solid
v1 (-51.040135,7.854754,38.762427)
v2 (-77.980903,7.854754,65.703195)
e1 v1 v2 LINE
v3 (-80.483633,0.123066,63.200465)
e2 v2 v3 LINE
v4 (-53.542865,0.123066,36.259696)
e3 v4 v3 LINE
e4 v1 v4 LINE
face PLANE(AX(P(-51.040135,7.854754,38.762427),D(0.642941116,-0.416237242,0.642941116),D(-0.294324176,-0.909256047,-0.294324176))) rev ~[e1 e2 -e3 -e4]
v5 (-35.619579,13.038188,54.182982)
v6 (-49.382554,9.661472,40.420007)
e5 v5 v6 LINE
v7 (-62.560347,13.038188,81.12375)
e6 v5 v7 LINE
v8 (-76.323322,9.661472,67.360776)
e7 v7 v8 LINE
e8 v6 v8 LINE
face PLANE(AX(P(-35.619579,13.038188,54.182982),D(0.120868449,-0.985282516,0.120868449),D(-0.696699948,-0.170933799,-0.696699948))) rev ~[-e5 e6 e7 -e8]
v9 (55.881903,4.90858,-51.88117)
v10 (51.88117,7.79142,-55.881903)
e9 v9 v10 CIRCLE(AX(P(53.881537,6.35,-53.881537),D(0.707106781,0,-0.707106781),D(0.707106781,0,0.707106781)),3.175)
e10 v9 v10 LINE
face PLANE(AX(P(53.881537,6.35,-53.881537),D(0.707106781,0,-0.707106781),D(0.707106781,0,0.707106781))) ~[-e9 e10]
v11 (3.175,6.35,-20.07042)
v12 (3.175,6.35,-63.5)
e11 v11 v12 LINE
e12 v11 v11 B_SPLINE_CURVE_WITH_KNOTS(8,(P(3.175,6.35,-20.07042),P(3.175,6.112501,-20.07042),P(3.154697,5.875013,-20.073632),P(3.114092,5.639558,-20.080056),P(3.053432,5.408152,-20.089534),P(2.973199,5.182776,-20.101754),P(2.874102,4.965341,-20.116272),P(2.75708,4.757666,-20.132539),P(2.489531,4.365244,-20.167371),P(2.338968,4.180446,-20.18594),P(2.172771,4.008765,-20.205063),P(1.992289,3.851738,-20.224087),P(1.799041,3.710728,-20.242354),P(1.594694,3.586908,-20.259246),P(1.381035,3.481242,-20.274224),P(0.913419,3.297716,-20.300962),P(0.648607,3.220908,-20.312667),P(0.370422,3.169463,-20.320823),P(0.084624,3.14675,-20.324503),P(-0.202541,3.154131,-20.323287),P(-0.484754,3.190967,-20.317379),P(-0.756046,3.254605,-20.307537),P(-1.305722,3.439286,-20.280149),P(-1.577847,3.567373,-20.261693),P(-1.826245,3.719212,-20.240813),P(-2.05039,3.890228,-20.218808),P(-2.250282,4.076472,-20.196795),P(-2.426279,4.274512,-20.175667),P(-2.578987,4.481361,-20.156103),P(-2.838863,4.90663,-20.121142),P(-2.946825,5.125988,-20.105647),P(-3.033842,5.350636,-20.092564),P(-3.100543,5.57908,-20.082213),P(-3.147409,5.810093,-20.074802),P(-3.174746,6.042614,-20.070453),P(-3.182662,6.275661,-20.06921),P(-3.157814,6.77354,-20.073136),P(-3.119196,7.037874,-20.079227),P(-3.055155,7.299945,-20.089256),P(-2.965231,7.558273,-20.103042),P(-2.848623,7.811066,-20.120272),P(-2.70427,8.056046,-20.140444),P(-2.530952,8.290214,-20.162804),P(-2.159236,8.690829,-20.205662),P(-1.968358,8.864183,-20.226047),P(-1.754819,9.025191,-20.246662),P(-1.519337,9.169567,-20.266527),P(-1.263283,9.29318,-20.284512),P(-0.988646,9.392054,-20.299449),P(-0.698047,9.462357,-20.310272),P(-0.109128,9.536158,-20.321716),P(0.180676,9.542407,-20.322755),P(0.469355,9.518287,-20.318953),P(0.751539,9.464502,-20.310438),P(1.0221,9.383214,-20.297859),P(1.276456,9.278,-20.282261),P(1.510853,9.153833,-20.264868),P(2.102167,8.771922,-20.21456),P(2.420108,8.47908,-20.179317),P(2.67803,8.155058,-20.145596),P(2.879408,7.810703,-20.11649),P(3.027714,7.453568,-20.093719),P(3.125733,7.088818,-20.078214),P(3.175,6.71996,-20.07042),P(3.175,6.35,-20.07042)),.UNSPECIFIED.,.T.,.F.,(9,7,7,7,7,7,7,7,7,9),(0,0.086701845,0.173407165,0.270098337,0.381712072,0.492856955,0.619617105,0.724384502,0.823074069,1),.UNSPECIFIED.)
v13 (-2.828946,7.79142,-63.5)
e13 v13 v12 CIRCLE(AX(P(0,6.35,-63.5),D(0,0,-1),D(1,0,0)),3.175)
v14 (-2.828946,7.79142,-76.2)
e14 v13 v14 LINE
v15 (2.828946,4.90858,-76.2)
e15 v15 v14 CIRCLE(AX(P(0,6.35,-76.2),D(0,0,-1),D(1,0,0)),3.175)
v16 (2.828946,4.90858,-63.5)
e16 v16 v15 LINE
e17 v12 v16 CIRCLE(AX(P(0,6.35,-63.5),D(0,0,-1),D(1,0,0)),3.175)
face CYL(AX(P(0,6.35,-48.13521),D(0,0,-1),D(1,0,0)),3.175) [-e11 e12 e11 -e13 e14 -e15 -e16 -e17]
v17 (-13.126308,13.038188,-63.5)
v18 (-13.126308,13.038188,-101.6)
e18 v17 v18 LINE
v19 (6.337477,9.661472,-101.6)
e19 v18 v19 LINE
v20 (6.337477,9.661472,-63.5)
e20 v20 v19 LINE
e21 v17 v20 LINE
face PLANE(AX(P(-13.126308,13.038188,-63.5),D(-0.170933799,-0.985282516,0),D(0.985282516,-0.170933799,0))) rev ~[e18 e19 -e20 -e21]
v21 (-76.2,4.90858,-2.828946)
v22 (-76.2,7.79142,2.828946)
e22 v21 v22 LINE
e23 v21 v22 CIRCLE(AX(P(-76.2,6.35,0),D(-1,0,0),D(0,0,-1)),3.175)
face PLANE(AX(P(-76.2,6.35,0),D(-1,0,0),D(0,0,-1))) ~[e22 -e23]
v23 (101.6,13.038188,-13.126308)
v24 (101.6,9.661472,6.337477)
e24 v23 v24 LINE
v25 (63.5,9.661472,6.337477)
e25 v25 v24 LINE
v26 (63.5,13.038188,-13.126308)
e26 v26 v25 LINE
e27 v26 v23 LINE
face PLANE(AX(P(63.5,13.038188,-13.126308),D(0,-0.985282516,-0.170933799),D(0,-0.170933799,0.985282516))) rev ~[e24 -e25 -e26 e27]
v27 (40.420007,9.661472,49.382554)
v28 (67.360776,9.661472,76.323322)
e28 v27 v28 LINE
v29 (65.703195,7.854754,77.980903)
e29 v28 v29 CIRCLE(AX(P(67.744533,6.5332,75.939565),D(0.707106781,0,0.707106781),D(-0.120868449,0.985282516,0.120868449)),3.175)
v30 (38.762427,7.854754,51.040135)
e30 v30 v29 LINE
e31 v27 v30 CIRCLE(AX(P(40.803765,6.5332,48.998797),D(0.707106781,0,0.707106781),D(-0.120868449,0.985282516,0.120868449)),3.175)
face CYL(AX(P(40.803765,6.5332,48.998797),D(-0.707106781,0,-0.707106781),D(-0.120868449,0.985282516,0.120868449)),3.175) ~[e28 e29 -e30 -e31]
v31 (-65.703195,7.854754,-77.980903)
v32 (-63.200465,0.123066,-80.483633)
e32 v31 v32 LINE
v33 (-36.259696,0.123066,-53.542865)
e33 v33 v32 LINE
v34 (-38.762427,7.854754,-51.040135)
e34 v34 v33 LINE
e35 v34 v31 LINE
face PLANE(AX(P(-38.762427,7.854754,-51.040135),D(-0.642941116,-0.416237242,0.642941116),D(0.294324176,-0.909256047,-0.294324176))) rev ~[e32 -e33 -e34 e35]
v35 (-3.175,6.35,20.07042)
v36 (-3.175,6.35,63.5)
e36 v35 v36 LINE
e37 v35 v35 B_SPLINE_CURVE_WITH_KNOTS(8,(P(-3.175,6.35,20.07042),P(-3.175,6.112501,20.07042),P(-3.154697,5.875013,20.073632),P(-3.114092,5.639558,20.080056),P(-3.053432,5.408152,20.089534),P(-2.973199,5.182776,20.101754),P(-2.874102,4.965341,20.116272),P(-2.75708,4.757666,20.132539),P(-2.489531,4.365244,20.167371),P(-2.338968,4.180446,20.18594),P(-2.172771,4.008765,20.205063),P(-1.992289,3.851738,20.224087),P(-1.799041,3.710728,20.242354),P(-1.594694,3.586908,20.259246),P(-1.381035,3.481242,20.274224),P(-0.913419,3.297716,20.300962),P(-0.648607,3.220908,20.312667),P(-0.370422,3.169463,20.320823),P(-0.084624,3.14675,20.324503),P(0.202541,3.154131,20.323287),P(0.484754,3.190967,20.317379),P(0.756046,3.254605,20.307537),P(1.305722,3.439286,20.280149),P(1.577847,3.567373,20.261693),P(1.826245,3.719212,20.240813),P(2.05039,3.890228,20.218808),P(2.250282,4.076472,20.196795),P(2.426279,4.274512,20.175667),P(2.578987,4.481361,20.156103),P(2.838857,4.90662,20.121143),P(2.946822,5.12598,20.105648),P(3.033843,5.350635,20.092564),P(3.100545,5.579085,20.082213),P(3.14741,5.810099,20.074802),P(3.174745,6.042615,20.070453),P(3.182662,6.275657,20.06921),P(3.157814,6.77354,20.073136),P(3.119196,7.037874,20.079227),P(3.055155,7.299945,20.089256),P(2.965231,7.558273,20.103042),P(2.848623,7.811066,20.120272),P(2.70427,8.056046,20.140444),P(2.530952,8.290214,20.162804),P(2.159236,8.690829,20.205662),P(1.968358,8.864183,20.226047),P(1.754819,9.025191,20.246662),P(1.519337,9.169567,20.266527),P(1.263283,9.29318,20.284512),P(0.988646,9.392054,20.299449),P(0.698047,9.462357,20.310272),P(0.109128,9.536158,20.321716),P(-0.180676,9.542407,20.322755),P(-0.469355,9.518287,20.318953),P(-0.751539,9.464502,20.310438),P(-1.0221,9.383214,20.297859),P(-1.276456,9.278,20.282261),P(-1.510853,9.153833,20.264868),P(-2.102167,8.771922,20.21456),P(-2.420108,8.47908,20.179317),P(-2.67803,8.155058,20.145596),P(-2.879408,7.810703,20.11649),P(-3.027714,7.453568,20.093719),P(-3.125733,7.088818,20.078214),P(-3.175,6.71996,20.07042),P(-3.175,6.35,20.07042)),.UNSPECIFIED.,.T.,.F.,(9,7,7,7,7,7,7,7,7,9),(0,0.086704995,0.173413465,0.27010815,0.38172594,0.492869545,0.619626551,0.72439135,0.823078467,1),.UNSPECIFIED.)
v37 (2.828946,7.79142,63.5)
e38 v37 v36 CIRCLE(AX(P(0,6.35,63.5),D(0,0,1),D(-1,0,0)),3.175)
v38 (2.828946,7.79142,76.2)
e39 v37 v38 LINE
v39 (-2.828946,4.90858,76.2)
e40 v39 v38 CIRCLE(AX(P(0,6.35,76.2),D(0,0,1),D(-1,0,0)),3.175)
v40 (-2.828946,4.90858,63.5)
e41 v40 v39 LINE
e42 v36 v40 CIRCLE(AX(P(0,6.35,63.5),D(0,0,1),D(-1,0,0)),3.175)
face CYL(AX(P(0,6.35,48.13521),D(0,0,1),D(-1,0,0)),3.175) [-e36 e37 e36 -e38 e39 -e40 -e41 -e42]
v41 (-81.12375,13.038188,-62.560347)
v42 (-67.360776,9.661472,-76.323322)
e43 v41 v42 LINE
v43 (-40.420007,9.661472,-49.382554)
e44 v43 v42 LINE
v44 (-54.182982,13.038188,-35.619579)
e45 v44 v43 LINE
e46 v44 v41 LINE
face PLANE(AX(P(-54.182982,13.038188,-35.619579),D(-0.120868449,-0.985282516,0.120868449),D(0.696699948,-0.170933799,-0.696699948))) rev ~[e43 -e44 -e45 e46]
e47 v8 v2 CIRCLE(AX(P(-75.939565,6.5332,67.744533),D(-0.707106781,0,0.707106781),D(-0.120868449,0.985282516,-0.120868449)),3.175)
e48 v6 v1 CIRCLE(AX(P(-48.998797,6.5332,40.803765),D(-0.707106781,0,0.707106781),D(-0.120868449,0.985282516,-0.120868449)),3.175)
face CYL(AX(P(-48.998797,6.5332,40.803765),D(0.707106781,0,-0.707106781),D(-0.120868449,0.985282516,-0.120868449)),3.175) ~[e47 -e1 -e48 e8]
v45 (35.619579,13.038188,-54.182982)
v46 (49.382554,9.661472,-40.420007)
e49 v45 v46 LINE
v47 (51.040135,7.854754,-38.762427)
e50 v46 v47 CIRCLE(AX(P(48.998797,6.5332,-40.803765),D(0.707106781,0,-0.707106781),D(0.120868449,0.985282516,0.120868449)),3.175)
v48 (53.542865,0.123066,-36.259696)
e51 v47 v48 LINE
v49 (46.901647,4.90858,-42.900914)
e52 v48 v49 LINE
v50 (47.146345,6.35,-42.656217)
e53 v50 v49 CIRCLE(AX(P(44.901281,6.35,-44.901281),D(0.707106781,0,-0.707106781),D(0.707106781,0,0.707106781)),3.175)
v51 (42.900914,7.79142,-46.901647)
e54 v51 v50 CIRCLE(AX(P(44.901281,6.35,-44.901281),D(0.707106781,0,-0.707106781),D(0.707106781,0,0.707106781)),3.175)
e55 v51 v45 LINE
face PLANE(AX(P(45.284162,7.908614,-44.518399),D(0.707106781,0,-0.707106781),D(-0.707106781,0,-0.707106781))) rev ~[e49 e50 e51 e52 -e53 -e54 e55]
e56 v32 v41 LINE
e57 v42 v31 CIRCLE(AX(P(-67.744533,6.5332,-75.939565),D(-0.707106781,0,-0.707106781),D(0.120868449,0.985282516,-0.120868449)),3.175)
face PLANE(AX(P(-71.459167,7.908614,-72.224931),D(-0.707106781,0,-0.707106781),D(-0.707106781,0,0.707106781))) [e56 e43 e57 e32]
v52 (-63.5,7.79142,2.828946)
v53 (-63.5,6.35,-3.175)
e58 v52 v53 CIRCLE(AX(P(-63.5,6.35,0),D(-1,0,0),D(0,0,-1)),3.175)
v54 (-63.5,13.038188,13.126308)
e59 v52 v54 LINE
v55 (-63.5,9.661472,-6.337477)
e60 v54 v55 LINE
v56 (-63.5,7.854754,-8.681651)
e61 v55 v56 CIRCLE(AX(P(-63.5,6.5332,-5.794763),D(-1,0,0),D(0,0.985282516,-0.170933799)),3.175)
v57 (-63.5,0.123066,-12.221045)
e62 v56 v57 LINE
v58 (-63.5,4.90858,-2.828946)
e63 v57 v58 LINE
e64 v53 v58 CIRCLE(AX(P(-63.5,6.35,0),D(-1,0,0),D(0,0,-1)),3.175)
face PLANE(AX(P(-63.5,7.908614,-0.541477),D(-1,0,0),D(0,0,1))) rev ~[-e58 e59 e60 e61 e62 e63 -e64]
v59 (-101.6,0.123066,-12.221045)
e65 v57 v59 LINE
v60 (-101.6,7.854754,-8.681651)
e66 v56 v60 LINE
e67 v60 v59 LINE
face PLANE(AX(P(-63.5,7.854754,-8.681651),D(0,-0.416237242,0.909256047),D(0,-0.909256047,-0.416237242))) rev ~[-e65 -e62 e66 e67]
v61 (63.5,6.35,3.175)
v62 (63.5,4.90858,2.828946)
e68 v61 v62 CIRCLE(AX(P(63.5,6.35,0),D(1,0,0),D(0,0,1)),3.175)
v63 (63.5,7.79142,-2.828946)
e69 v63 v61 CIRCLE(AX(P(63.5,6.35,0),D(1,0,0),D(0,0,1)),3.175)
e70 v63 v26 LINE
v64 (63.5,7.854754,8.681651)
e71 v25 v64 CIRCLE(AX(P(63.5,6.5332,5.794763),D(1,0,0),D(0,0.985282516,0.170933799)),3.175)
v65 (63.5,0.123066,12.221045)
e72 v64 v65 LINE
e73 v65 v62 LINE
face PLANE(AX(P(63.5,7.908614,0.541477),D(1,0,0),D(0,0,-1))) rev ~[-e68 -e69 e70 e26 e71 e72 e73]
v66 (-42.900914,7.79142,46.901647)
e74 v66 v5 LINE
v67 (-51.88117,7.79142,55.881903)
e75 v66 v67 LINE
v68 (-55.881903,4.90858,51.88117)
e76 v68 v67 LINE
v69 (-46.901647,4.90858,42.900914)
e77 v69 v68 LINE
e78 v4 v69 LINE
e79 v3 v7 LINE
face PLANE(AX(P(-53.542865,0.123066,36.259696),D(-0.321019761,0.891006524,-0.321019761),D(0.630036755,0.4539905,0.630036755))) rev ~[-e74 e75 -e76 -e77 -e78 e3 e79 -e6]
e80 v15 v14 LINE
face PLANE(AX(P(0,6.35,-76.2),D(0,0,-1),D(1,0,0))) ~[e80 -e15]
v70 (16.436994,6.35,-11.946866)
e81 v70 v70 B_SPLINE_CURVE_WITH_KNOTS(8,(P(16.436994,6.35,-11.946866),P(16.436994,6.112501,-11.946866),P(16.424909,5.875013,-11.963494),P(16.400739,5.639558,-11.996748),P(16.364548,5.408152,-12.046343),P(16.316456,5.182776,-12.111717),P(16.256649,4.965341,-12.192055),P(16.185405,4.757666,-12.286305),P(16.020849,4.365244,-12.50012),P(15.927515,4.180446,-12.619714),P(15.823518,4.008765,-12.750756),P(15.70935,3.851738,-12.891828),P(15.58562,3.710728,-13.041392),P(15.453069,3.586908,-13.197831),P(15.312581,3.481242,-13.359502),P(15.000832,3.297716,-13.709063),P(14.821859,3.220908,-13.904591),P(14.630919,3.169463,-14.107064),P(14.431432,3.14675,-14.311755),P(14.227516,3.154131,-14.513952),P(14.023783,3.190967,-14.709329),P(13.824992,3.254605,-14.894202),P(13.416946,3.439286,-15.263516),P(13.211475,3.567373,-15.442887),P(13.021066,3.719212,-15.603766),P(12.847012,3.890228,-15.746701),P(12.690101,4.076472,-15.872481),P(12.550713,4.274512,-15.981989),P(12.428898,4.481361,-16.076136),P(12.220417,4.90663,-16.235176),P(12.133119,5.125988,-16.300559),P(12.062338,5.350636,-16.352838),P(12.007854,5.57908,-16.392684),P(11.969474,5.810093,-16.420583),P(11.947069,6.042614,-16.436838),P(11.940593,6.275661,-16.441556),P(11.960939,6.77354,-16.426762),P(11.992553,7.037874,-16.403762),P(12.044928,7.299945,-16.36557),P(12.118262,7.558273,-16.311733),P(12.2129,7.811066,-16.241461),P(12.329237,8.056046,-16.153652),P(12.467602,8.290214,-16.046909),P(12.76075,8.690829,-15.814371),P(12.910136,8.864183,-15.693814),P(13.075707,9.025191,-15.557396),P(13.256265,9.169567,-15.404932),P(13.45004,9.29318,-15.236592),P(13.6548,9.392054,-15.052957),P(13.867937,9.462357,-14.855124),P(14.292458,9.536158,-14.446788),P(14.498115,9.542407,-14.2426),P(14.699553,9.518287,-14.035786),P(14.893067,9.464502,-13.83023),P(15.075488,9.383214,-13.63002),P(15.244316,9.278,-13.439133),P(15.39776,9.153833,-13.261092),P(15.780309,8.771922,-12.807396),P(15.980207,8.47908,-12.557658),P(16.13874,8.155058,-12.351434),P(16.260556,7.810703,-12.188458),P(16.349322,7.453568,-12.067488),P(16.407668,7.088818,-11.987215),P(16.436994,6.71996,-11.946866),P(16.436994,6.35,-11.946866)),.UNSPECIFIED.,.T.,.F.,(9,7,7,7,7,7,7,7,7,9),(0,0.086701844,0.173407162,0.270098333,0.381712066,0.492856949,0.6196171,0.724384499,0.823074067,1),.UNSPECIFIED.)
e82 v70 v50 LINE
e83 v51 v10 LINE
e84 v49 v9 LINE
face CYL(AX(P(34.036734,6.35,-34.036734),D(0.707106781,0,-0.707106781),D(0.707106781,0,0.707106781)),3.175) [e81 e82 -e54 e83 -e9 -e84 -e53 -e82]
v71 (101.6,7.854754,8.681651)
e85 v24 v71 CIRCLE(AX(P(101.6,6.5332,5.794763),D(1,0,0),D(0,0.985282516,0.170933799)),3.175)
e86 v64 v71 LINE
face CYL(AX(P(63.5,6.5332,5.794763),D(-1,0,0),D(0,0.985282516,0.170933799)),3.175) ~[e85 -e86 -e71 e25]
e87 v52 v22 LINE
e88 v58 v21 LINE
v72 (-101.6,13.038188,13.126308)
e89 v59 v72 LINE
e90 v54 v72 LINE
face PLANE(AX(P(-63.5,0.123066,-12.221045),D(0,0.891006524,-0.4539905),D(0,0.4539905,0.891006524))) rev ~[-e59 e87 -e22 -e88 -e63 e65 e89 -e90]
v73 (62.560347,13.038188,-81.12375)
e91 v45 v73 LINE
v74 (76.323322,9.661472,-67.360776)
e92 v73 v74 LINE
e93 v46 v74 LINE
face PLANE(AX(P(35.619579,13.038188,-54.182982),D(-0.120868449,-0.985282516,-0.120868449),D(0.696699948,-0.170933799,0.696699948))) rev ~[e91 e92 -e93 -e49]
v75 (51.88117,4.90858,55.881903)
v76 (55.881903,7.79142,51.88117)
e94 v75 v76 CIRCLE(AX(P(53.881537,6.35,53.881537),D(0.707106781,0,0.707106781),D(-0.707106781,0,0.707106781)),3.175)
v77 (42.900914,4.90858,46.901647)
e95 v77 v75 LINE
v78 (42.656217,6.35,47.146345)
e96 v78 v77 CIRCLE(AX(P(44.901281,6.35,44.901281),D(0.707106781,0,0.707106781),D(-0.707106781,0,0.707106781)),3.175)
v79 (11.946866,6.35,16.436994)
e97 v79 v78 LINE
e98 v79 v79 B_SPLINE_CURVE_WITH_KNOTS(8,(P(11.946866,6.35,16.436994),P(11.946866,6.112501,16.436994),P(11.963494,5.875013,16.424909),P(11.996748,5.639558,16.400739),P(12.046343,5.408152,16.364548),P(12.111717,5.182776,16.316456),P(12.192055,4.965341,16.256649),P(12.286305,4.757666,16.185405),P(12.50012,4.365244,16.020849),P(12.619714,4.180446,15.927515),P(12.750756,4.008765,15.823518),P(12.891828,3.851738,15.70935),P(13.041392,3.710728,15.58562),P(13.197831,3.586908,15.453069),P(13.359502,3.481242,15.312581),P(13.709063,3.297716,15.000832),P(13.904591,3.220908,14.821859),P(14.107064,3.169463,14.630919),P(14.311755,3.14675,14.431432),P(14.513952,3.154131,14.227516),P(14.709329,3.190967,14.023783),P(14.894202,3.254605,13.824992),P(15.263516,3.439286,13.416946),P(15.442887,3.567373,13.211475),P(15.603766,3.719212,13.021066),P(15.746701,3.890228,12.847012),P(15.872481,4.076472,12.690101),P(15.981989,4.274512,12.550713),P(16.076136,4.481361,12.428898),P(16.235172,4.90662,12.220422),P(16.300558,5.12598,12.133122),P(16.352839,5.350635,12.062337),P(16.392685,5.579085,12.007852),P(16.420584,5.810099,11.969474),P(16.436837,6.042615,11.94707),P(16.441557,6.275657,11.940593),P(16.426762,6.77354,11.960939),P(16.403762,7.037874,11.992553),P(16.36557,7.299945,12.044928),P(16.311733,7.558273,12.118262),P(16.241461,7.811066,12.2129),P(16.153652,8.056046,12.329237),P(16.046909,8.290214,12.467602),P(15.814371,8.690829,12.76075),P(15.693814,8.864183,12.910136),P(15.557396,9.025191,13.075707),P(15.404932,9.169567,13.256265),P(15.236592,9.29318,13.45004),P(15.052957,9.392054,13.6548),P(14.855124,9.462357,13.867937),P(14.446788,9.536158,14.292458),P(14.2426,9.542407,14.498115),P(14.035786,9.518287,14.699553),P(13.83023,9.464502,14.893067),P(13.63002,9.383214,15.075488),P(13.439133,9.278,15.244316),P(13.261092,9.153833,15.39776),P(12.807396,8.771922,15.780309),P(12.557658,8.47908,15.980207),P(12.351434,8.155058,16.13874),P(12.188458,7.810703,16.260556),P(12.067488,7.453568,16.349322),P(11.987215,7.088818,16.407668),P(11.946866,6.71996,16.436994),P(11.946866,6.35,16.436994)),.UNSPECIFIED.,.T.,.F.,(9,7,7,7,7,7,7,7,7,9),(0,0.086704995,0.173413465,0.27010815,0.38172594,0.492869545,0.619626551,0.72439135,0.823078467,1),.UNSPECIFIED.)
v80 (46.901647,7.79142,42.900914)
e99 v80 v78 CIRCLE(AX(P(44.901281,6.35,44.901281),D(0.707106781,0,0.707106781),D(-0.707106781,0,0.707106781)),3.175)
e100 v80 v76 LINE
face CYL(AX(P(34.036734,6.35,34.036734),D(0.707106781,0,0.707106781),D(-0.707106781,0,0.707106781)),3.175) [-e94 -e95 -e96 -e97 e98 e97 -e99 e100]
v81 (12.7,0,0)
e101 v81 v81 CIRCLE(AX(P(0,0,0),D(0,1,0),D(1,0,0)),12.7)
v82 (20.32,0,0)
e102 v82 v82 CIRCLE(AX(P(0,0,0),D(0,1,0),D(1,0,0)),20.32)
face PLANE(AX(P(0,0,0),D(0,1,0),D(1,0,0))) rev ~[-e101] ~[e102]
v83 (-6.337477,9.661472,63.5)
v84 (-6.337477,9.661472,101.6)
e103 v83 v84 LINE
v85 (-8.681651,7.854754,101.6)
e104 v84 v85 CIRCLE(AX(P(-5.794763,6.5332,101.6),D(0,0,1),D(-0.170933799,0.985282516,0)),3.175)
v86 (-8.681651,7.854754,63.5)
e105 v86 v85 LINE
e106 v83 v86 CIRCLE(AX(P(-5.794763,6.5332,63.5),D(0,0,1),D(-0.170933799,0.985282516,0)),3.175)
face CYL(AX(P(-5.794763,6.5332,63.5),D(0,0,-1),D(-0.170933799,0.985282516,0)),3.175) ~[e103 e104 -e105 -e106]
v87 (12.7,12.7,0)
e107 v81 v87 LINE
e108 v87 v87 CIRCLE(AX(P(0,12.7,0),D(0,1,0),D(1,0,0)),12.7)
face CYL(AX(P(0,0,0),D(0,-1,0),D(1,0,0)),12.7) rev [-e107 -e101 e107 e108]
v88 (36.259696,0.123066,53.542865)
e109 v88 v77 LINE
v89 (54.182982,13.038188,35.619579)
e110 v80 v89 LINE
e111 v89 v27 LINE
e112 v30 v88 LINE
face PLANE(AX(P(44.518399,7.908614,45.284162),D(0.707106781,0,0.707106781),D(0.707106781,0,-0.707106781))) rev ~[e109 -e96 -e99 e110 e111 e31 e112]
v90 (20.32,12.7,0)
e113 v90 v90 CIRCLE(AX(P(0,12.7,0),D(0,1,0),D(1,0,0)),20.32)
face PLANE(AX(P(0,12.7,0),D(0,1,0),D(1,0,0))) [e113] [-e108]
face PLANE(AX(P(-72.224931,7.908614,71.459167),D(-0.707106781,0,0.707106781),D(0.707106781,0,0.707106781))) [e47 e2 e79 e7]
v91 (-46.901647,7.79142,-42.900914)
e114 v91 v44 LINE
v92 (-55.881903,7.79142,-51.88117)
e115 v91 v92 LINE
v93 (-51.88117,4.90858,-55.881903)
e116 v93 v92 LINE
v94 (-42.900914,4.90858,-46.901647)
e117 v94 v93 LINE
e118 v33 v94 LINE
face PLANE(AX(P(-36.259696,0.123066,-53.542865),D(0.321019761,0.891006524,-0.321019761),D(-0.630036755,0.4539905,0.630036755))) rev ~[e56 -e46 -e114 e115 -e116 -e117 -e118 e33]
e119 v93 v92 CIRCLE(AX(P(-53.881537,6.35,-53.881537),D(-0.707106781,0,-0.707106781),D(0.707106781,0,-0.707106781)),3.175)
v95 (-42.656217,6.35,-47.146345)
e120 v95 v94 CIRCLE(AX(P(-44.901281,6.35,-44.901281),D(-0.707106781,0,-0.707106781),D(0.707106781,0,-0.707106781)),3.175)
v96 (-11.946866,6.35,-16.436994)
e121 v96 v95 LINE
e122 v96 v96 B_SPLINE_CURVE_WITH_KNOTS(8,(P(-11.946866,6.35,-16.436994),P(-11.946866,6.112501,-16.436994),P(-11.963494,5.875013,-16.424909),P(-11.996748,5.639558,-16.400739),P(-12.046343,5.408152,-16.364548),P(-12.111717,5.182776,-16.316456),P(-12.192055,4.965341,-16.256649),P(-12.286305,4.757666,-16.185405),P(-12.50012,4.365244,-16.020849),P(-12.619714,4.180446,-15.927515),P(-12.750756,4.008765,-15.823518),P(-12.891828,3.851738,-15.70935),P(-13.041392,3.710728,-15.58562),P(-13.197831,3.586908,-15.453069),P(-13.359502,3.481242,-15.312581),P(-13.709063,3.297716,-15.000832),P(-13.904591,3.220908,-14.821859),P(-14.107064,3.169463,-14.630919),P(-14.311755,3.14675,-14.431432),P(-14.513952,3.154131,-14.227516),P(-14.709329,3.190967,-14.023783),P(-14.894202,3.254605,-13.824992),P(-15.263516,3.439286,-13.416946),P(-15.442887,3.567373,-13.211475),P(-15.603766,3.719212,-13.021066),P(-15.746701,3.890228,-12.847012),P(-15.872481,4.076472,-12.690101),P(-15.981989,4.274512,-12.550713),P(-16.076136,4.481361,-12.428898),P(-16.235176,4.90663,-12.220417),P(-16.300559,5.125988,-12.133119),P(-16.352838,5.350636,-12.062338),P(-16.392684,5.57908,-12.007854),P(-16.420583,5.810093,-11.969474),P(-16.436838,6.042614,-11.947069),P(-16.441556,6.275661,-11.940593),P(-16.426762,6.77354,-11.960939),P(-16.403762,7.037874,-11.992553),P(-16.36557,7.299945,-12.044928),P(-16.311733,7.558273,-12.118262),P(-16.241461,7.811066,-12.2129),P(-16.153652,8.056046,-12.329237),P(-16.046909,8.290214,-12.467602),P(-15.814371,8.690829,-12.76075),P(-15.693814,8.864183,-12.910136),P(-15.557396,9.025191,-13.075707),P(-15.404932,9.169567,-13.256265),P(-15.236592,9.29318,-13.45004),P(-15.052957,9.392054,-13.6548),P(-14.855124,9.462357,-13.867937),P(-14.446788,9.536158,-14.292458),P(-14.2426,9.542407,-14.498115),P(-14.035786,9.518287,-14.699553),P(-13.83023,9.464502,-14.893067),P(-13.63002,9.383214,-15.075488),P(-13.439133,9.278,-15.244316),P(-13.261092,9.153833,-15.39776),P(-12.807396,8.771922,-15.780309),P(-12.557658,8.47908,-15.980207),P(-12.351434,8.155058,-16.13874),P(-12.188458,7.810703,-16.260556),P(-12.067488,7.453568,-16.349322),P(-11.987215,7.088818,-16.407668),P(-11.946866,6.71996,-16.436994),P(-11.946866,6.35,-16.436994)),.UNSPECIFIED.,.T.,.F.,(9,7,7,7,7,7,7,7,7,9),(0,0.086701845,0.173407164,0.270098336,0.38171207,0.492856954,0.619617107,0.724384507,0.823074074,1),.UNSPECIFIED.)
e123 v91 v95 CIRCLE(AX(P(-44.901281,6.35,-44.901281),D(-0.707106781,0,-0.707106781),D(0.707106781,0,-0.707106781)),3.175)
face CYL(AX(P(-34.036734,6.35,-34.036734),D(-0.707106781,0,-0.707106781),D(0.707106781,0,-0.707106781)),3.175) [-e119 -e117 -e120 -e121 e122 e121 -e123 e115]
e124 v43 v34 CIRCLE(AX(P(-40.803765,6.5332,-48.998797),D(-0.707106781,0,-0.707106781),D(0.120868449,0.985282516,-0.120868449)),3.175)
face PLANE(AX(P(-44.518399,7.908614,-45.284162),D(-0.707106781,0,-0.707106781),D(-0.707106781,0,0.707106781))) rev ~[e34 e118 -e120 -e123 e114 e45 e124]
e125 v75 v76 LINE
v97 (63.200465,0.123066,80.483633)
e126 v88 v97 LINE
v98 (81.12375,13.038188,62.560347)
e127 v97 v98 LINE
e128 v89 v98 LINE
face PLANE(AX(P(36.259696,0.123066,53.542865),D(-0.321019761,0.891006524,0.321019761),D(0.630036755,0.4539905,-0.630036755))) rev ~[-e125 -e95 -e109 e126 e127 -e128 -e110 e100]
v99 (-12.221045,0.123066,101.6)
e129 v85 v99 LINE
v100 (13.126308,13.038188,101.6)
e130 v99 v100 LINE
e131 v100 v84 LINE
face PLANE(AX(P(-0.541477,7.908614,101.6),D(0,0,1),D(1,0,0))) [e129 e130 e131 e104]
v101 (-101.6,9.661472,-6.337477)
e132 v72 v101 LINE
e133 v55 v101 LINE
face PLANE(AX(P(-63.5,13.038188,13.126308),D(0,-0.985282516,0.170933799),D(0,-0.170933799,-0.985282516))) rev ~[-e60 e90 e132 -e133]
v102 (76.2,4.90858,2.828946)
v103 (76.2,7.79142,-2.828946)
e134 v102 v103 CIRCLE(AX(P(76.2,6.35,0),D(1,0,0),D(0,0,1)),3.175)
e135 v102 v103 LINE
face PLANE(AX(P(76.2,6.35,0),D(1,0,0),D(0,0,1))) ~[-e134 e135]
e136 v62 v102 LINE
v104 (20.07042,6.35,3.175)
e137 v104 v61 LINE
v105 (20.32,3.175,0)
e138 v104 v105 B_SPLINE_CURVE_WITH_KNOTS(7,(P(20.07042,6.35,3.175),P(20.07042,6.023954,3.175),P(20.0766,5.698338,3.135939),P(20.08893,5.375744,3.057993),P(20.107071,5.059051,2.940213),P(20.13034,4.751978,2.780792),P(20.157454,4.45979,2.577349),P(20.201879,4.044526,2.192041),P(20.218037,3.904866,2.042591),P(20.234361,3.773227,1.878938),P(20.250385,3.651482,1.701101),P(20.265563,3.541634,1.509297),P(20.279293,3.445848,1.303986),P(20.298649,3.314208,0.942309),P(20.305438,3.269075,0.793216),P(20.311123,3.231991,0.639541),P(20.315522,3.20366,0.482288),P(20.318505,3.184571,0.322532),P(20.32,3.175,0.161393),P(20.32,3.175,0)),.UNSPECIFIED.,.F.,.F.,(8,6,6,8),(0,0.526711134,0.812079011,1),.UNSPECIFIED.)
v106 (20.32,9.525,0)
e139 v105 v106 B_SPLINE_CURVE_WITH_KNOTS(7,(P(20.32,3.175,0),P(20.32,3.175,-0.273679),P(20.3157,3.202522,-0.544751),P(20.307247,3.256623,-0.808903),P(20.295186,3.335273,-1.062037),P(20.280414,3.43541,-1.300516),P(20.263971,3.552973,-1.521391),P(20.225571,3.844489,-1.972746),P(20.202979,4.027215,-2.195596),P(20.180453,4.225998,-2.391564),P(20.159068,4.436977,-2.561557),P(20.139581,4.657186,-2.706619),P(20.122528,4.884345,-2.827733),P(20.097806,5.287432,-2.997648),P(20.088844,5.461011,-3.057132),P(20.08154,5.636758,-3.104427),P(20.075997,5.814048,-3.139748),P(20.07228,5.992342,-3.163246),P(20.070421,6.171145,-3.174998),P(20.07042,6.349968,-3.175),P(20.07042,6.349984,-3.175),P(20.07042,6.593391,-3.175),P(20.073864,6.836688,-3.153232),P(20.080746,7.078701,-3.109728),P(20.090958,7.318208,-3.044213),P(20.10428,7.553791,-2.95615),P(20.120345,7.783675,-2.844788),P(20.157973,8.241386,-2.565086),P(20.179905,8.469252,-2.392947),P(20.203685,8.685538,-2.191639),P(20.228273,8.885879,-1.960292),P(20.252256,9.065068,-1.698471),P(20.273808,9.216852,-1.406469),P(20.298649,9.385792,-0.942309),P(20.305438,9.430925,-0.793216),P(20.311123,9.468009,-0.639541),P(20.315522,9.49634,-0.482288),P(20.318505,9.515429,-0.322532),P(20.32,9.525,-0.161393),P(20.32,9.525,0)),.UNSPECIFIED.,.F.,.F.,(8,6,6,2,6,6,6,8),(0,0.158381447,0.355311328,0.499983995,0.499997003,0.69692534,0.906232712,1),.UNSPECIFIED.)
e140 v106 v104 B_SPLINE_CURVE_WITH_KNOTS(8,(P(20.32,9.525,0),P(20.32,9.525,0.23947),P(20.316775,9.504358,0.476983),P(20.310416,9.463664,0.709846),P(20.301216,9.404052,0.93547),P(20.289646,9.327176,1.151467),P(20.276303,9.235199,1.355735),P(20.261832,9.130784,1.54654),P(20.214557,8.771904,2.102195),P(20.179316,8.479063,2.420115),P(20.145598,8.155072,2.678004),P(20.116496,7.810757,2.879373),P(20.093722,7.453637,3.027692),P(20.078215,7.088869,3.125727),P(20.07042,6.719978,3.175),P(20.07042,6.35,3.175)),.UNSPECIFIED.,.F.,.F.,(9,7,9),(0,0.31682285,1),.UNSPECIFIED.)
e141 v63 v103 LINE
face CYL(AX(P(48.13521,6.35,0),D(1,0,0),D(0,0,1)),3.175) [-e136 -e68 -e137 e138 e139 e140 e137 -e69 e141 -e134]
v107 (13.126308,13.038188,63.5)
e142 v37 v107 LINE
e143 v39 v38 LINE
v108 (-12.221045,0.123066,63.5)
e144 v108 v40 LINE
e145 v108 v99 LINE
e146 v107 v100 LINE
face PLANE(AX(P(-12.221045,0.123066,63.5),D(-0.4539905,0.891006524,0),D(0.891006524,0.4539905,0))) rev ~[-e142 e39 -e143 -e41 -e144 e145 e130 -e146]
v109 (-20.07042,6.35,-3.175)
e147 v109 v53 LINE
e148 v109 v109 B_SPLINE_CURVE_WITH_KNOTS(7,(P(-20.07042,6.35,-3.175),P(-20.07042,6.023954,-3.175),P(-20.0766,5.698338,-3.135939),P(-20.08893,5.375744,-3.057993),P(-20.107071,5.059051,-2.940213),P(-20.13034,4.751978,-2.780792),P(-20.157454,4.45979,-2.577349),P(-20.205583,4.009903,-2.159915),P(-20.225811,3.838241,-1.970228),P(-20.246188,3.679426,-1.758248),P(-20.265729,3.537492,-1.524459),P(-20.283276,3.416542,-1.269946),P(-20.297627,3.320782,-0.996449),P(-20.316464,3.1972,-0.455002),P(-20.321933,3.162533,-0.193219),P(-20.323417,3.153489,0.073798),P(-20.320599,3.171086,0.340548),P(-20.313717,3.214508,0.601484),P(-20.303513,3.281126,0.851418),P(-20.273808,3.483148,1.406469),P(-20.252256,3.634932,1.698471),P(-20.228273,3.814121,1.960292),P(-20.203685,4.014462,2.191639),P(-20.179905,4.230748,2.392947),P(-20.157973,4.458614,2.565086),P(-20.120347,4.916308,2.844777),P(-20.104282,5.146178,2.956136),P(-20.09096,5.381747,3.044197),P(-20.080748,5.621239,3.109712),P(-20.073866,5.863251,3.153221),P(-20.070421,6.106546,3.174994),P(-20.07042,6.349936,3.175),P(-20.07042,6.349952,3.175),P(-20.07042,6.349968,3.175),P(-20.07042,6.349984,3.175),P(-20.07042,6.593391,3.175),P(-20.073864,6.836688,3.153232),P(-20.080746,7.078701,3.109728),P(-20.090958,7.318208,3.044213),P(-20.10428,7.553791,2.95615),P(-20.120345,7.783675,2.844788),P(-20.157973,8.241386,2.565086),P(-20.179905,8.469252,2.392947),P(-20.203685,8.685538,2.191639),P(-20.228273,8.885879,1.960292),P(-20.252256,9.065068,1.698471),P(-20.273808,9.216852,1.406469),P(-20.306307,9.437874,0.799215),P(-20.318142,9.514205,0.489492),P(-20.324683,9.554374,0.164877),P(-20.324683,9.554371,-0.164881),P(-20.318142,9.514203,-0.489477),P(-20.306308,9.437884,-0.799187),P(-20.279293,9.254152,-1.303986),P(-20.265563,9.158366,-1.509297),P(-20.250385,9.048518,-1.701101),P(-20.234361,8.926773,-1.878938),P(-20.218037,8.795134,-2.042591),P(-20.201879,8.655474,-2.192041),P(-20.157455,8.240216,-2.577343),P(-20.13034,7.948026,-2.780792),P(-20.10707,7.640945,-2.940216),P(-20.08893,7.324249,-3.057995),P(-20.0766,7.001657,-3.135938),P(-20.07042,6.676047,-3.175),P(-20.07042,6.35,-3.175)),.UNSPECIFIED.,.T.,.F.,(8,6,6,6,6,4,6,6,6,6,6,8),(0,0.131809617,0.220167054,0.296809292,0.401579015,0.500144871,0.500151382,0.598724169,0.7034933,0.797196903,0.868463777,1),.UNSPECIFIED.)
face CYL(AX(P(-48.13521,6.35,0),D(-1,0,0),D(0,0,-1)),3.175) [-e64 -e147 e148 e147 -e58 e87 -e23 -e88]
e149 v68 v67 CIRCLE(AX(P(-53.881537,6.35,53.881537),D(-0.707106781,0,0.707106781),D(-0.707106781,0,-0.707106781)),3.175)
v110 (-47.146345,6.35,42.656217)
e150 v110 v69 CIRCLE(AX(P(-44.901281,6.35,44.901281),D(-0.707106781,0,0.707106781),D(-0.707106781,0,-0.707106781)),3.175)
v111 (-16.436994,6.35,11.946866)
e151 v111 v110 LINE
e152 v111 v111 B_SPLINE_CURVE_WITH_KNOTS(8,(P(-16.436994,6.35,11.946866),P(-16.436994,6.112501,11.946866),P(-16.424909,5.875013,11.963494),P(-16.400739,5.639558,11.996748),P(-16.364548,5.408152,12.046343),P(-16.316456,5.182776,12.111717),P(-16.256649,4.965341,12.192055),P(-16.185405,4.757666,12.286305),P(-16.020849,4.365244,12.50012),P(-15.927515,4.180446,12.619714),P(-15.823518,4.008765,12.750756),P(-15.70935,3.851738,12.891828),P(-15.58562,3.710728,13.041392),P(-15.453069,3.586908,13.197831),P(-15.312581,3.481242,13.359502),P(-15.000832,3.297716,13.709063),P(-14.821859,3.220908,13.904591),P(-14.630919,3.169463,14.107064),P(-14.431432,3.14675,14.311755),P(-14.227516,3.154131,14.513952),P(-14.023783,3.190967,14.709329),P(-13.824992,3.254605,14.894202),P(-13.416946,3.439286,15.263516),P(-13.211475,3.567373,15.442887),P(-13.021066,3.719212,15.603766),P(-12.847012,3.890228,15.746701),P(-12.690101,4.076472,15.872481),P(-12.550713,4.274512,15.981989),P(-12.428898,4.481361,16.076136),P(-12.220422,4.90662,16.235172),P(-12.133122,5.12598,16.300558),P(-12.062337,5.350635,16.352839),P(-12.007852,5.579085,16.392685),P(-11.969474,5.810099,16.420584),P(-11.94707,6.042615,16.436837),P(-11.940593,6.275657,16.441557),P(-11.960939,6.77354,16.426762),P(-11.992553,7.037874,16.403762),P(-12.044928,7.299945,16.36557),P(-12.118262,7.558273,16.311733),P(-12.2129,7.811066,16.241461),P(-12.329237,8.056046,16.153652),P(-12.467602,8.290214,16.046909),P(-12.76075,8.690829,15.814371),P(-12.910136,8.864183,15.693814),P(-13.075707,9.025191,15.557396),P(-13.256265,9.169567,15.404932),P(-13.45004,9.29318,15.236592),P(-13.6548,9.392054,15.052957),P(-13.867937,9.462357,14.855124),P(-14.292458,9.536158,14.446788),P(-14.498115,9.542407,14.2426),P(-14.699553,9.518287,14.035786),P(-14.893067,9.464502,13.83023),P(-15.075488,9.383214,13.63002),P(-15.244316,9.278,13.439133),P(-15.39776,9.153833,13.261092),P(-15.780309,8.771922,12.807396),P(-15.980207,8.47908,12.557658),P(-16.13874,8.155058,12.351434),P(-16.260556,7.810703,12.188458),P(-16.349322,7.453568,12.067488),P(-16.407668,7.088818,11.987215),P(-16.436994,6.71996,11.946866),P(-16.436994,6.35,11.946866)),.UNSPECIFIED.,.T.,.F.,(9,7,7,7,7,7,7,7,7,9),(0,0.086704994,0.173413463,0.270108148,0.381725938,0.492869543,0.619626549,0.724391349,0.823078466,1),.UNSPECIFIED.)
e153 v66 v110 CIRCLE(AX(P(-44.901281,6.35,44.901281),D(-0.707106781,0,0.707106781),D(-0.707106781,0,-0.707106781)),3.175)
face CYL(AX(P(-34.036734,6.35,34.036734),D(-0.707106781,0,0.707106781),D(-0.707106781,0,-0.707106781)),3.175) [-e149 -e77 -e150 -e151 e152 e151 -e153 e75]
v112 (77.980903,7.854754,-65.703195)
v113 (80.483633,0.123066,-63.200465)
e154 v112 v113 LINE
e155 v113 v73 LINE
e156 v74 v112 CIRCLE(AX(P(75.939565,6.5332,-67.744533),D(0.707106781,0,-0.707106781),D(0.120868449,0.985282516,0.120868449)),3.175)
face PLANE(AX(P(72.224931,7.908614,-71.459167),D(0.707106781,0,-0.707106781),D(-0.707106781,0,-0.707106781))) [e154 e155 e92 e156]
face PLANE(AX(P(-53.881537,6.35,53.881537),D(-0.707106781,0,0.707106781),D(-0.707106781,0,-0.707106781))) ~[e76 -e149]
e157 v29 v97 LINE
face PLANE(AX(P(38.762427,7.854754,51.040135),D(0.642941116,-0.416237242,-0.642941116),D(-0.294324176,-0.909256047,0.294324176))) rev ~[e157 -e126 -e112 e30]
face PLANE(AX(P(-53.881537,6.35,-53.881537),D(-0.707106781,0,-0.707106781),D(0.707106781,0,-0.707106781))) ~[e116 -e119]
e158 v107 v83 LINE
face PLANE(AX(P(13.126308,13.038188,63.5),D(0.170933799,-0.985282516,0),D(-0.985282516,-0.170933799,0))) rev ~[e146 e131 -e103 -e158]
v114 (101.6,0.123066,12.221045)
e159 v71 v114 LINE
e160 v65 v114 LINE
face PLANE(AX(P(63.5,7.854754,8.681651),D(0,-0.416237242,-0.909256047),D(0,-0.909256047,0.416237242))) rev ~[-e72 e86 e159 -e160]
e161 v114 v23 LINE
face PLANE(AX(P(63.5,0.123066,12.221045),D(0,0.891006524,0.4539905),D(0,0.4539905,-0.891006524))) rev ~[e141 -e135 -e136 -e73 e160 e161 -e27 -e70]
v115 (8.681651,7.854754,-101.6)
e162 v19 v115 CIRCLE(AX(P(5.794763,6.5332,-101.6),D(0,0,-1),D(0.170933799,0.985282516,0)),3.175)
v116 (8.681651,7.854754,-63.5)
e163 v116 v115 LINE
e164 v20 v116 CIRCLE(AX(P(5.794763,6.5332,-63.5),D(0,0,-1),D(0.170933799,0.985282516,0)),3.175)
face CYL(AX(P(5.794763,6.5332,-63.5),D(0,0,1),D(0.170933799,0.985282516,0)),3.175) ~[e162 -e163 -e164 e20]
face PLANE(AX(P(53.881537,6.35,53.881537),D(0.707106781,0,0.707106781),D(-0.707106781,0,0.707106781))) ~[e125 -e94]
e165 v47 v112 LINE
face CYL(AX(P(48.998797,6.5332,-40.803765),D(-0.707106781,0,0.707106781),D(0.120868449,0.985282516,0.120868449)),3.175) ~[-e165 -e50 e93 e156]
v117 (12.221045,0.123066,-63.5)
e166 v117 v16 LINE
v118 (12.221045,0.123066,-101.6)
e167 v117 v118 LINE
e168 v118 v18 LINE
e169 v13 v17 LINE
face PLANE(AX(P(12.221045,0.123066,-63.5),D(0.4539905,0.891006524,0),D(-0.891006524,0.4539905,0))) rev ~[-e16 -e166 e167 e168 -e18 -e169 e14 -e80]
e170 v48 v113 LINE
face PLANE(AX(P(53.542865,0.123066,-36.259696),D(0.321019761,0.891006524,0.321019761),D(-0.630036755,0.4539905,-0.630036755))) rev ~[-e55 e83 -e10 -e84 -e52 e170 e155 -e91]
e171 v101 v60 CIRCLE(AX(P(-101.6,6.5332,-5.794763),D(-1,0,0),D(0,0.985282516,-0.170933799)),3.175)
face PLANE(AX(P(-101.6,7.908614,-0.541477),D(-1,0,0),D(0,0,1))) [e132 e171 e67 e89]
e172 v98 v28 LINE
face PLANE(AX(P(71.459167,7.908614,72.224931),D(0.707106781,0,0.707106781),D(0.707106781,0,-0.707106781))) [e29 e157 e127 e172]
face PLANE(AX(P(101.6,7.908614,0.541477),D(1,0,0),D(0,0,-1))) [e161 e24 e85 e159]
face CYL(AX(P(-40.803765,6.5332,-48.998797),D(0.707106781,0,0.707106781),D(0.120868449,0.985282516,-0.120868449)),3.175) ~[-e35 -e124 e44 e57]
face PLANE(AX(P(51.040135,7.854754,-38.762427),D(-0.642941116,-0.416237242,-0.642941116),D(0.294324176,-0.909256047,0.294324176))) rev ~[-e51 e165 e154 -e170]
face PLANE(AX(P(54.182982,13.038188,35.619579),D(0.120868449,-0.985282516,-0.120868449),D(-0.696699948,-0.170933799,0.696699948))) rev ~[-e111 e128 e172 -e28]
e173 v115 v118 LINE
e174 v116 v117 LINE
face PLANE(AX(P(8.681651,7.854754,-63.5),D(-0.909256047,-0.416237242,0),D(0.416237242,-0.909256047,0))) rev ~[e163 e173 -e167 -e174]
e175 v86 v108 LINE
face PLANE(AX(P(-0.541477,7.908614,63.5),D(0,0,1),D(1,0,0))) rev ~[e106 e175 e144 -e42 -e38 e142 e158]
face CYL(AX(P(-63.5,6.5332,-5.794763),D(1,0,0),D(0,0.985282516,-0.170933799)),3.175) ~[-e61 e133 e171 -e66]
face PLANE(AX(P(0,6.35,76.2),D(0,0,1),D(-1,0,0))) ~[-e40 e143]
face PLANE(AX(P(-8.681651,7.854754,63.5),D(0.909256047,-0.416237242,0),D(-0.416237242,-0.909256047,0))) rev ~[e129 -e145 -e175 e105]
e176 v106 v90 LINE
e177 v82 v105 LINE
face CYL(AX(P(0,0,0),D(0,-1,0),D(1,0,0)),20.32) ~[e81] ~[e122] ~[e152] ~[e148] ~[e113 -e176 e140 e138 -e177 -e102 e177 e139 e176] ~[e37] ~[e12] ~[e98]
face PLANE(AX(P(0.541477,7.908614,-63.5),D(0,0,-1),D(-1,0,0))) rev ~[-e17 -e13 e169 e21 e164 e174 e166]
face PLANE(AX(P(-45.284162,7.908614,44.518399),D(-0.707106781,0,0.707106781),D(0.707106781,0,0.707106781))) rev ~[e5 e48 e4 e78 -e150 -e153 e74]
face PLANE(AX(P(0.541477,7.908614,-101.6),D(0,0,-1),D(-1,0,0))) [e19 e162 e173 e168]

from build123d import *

# Parameters (mm, degrees)
SKETCH1_R           = 20.32
SKETCH1_R_2         = 12.7
BOSS_EXTRUDE1_DEPTH = 12.7
SKETCH2_W           = 3.175
SKETCH2_H           = 56.129579601
BOSS_EXTRUDE2_DEPTH = 38.1
CIRPATTERN1_COUNT   = 8


with BuildPart() as part:
    # Sketch1 → Boss-Extrude1 (new body)
    with BuildSketch(Plane(origin=(0, 0, 0), x_dir=(1, 0, 0), z_dir=(0, 1, 0))):
        Circle(SKETCH1_R)
        Circle(SKETCH1_R_2, mode=Mode.SUBTRACT)
    extrude(amount=BOSS_EXTRUDE1_DEPTH)

    # Sketch2 → Revolve1 (revolve)
    with BuildSketch(Plane(origin=(0, 6.35, 0), x_dir=(1, 0, 0), z_dir=(0, 1, 0))):
        with Locations((1.5875, 48.1352102)):
            Rectangle(SKETCH2_W, SKETCH2_H)
    revolve1 = revolve(axis=Axis((0, 6.35, -20.070420399), (0, 0, -1)))

    # Sketch4 → Boss-Extrude2 (add)
    with BuildSketch(Plane(origin=(0, 0, -63.5), x_dir=(-1, 0, 0), z_dir=(0, 0, -1))):
        with BuildLine():
            Line((-12.221045486, 0.123066306), (13.126308114, 13.038188042))
            Line((13.126308114, 13.038188042), (-6.337477412, 9.661472478))
            ThreePointArc((-6.337477412, 9.661472478), (-7.732958134, 9.047961526), (-8.681650548, 7.854753733))
            Line((-8.681650548, 7.854753733), (-12.221045486, 0.123066306))
        make_face()
    boss_extrude2 = extrude(amount=BOSS_EXTRUDE2_DEPTH)

    # CirPattern1: Revolve1, Boss-Extrude2 ×8 about axis
    cirpattern1_axis = Axis((0, 0, 0), (0, 1, 0))
    for i in range(1, CIRPATTERN1_COUNT):
        add(revolve1.rotate(cirpattern1_axis, i * 360 / CIRPATTERN1_COUNT))
        add(boss_extrude2.rotate(cirpattern1_axis, i * 360 / CIRPATTERN1_COUNT))


solid = part.part
